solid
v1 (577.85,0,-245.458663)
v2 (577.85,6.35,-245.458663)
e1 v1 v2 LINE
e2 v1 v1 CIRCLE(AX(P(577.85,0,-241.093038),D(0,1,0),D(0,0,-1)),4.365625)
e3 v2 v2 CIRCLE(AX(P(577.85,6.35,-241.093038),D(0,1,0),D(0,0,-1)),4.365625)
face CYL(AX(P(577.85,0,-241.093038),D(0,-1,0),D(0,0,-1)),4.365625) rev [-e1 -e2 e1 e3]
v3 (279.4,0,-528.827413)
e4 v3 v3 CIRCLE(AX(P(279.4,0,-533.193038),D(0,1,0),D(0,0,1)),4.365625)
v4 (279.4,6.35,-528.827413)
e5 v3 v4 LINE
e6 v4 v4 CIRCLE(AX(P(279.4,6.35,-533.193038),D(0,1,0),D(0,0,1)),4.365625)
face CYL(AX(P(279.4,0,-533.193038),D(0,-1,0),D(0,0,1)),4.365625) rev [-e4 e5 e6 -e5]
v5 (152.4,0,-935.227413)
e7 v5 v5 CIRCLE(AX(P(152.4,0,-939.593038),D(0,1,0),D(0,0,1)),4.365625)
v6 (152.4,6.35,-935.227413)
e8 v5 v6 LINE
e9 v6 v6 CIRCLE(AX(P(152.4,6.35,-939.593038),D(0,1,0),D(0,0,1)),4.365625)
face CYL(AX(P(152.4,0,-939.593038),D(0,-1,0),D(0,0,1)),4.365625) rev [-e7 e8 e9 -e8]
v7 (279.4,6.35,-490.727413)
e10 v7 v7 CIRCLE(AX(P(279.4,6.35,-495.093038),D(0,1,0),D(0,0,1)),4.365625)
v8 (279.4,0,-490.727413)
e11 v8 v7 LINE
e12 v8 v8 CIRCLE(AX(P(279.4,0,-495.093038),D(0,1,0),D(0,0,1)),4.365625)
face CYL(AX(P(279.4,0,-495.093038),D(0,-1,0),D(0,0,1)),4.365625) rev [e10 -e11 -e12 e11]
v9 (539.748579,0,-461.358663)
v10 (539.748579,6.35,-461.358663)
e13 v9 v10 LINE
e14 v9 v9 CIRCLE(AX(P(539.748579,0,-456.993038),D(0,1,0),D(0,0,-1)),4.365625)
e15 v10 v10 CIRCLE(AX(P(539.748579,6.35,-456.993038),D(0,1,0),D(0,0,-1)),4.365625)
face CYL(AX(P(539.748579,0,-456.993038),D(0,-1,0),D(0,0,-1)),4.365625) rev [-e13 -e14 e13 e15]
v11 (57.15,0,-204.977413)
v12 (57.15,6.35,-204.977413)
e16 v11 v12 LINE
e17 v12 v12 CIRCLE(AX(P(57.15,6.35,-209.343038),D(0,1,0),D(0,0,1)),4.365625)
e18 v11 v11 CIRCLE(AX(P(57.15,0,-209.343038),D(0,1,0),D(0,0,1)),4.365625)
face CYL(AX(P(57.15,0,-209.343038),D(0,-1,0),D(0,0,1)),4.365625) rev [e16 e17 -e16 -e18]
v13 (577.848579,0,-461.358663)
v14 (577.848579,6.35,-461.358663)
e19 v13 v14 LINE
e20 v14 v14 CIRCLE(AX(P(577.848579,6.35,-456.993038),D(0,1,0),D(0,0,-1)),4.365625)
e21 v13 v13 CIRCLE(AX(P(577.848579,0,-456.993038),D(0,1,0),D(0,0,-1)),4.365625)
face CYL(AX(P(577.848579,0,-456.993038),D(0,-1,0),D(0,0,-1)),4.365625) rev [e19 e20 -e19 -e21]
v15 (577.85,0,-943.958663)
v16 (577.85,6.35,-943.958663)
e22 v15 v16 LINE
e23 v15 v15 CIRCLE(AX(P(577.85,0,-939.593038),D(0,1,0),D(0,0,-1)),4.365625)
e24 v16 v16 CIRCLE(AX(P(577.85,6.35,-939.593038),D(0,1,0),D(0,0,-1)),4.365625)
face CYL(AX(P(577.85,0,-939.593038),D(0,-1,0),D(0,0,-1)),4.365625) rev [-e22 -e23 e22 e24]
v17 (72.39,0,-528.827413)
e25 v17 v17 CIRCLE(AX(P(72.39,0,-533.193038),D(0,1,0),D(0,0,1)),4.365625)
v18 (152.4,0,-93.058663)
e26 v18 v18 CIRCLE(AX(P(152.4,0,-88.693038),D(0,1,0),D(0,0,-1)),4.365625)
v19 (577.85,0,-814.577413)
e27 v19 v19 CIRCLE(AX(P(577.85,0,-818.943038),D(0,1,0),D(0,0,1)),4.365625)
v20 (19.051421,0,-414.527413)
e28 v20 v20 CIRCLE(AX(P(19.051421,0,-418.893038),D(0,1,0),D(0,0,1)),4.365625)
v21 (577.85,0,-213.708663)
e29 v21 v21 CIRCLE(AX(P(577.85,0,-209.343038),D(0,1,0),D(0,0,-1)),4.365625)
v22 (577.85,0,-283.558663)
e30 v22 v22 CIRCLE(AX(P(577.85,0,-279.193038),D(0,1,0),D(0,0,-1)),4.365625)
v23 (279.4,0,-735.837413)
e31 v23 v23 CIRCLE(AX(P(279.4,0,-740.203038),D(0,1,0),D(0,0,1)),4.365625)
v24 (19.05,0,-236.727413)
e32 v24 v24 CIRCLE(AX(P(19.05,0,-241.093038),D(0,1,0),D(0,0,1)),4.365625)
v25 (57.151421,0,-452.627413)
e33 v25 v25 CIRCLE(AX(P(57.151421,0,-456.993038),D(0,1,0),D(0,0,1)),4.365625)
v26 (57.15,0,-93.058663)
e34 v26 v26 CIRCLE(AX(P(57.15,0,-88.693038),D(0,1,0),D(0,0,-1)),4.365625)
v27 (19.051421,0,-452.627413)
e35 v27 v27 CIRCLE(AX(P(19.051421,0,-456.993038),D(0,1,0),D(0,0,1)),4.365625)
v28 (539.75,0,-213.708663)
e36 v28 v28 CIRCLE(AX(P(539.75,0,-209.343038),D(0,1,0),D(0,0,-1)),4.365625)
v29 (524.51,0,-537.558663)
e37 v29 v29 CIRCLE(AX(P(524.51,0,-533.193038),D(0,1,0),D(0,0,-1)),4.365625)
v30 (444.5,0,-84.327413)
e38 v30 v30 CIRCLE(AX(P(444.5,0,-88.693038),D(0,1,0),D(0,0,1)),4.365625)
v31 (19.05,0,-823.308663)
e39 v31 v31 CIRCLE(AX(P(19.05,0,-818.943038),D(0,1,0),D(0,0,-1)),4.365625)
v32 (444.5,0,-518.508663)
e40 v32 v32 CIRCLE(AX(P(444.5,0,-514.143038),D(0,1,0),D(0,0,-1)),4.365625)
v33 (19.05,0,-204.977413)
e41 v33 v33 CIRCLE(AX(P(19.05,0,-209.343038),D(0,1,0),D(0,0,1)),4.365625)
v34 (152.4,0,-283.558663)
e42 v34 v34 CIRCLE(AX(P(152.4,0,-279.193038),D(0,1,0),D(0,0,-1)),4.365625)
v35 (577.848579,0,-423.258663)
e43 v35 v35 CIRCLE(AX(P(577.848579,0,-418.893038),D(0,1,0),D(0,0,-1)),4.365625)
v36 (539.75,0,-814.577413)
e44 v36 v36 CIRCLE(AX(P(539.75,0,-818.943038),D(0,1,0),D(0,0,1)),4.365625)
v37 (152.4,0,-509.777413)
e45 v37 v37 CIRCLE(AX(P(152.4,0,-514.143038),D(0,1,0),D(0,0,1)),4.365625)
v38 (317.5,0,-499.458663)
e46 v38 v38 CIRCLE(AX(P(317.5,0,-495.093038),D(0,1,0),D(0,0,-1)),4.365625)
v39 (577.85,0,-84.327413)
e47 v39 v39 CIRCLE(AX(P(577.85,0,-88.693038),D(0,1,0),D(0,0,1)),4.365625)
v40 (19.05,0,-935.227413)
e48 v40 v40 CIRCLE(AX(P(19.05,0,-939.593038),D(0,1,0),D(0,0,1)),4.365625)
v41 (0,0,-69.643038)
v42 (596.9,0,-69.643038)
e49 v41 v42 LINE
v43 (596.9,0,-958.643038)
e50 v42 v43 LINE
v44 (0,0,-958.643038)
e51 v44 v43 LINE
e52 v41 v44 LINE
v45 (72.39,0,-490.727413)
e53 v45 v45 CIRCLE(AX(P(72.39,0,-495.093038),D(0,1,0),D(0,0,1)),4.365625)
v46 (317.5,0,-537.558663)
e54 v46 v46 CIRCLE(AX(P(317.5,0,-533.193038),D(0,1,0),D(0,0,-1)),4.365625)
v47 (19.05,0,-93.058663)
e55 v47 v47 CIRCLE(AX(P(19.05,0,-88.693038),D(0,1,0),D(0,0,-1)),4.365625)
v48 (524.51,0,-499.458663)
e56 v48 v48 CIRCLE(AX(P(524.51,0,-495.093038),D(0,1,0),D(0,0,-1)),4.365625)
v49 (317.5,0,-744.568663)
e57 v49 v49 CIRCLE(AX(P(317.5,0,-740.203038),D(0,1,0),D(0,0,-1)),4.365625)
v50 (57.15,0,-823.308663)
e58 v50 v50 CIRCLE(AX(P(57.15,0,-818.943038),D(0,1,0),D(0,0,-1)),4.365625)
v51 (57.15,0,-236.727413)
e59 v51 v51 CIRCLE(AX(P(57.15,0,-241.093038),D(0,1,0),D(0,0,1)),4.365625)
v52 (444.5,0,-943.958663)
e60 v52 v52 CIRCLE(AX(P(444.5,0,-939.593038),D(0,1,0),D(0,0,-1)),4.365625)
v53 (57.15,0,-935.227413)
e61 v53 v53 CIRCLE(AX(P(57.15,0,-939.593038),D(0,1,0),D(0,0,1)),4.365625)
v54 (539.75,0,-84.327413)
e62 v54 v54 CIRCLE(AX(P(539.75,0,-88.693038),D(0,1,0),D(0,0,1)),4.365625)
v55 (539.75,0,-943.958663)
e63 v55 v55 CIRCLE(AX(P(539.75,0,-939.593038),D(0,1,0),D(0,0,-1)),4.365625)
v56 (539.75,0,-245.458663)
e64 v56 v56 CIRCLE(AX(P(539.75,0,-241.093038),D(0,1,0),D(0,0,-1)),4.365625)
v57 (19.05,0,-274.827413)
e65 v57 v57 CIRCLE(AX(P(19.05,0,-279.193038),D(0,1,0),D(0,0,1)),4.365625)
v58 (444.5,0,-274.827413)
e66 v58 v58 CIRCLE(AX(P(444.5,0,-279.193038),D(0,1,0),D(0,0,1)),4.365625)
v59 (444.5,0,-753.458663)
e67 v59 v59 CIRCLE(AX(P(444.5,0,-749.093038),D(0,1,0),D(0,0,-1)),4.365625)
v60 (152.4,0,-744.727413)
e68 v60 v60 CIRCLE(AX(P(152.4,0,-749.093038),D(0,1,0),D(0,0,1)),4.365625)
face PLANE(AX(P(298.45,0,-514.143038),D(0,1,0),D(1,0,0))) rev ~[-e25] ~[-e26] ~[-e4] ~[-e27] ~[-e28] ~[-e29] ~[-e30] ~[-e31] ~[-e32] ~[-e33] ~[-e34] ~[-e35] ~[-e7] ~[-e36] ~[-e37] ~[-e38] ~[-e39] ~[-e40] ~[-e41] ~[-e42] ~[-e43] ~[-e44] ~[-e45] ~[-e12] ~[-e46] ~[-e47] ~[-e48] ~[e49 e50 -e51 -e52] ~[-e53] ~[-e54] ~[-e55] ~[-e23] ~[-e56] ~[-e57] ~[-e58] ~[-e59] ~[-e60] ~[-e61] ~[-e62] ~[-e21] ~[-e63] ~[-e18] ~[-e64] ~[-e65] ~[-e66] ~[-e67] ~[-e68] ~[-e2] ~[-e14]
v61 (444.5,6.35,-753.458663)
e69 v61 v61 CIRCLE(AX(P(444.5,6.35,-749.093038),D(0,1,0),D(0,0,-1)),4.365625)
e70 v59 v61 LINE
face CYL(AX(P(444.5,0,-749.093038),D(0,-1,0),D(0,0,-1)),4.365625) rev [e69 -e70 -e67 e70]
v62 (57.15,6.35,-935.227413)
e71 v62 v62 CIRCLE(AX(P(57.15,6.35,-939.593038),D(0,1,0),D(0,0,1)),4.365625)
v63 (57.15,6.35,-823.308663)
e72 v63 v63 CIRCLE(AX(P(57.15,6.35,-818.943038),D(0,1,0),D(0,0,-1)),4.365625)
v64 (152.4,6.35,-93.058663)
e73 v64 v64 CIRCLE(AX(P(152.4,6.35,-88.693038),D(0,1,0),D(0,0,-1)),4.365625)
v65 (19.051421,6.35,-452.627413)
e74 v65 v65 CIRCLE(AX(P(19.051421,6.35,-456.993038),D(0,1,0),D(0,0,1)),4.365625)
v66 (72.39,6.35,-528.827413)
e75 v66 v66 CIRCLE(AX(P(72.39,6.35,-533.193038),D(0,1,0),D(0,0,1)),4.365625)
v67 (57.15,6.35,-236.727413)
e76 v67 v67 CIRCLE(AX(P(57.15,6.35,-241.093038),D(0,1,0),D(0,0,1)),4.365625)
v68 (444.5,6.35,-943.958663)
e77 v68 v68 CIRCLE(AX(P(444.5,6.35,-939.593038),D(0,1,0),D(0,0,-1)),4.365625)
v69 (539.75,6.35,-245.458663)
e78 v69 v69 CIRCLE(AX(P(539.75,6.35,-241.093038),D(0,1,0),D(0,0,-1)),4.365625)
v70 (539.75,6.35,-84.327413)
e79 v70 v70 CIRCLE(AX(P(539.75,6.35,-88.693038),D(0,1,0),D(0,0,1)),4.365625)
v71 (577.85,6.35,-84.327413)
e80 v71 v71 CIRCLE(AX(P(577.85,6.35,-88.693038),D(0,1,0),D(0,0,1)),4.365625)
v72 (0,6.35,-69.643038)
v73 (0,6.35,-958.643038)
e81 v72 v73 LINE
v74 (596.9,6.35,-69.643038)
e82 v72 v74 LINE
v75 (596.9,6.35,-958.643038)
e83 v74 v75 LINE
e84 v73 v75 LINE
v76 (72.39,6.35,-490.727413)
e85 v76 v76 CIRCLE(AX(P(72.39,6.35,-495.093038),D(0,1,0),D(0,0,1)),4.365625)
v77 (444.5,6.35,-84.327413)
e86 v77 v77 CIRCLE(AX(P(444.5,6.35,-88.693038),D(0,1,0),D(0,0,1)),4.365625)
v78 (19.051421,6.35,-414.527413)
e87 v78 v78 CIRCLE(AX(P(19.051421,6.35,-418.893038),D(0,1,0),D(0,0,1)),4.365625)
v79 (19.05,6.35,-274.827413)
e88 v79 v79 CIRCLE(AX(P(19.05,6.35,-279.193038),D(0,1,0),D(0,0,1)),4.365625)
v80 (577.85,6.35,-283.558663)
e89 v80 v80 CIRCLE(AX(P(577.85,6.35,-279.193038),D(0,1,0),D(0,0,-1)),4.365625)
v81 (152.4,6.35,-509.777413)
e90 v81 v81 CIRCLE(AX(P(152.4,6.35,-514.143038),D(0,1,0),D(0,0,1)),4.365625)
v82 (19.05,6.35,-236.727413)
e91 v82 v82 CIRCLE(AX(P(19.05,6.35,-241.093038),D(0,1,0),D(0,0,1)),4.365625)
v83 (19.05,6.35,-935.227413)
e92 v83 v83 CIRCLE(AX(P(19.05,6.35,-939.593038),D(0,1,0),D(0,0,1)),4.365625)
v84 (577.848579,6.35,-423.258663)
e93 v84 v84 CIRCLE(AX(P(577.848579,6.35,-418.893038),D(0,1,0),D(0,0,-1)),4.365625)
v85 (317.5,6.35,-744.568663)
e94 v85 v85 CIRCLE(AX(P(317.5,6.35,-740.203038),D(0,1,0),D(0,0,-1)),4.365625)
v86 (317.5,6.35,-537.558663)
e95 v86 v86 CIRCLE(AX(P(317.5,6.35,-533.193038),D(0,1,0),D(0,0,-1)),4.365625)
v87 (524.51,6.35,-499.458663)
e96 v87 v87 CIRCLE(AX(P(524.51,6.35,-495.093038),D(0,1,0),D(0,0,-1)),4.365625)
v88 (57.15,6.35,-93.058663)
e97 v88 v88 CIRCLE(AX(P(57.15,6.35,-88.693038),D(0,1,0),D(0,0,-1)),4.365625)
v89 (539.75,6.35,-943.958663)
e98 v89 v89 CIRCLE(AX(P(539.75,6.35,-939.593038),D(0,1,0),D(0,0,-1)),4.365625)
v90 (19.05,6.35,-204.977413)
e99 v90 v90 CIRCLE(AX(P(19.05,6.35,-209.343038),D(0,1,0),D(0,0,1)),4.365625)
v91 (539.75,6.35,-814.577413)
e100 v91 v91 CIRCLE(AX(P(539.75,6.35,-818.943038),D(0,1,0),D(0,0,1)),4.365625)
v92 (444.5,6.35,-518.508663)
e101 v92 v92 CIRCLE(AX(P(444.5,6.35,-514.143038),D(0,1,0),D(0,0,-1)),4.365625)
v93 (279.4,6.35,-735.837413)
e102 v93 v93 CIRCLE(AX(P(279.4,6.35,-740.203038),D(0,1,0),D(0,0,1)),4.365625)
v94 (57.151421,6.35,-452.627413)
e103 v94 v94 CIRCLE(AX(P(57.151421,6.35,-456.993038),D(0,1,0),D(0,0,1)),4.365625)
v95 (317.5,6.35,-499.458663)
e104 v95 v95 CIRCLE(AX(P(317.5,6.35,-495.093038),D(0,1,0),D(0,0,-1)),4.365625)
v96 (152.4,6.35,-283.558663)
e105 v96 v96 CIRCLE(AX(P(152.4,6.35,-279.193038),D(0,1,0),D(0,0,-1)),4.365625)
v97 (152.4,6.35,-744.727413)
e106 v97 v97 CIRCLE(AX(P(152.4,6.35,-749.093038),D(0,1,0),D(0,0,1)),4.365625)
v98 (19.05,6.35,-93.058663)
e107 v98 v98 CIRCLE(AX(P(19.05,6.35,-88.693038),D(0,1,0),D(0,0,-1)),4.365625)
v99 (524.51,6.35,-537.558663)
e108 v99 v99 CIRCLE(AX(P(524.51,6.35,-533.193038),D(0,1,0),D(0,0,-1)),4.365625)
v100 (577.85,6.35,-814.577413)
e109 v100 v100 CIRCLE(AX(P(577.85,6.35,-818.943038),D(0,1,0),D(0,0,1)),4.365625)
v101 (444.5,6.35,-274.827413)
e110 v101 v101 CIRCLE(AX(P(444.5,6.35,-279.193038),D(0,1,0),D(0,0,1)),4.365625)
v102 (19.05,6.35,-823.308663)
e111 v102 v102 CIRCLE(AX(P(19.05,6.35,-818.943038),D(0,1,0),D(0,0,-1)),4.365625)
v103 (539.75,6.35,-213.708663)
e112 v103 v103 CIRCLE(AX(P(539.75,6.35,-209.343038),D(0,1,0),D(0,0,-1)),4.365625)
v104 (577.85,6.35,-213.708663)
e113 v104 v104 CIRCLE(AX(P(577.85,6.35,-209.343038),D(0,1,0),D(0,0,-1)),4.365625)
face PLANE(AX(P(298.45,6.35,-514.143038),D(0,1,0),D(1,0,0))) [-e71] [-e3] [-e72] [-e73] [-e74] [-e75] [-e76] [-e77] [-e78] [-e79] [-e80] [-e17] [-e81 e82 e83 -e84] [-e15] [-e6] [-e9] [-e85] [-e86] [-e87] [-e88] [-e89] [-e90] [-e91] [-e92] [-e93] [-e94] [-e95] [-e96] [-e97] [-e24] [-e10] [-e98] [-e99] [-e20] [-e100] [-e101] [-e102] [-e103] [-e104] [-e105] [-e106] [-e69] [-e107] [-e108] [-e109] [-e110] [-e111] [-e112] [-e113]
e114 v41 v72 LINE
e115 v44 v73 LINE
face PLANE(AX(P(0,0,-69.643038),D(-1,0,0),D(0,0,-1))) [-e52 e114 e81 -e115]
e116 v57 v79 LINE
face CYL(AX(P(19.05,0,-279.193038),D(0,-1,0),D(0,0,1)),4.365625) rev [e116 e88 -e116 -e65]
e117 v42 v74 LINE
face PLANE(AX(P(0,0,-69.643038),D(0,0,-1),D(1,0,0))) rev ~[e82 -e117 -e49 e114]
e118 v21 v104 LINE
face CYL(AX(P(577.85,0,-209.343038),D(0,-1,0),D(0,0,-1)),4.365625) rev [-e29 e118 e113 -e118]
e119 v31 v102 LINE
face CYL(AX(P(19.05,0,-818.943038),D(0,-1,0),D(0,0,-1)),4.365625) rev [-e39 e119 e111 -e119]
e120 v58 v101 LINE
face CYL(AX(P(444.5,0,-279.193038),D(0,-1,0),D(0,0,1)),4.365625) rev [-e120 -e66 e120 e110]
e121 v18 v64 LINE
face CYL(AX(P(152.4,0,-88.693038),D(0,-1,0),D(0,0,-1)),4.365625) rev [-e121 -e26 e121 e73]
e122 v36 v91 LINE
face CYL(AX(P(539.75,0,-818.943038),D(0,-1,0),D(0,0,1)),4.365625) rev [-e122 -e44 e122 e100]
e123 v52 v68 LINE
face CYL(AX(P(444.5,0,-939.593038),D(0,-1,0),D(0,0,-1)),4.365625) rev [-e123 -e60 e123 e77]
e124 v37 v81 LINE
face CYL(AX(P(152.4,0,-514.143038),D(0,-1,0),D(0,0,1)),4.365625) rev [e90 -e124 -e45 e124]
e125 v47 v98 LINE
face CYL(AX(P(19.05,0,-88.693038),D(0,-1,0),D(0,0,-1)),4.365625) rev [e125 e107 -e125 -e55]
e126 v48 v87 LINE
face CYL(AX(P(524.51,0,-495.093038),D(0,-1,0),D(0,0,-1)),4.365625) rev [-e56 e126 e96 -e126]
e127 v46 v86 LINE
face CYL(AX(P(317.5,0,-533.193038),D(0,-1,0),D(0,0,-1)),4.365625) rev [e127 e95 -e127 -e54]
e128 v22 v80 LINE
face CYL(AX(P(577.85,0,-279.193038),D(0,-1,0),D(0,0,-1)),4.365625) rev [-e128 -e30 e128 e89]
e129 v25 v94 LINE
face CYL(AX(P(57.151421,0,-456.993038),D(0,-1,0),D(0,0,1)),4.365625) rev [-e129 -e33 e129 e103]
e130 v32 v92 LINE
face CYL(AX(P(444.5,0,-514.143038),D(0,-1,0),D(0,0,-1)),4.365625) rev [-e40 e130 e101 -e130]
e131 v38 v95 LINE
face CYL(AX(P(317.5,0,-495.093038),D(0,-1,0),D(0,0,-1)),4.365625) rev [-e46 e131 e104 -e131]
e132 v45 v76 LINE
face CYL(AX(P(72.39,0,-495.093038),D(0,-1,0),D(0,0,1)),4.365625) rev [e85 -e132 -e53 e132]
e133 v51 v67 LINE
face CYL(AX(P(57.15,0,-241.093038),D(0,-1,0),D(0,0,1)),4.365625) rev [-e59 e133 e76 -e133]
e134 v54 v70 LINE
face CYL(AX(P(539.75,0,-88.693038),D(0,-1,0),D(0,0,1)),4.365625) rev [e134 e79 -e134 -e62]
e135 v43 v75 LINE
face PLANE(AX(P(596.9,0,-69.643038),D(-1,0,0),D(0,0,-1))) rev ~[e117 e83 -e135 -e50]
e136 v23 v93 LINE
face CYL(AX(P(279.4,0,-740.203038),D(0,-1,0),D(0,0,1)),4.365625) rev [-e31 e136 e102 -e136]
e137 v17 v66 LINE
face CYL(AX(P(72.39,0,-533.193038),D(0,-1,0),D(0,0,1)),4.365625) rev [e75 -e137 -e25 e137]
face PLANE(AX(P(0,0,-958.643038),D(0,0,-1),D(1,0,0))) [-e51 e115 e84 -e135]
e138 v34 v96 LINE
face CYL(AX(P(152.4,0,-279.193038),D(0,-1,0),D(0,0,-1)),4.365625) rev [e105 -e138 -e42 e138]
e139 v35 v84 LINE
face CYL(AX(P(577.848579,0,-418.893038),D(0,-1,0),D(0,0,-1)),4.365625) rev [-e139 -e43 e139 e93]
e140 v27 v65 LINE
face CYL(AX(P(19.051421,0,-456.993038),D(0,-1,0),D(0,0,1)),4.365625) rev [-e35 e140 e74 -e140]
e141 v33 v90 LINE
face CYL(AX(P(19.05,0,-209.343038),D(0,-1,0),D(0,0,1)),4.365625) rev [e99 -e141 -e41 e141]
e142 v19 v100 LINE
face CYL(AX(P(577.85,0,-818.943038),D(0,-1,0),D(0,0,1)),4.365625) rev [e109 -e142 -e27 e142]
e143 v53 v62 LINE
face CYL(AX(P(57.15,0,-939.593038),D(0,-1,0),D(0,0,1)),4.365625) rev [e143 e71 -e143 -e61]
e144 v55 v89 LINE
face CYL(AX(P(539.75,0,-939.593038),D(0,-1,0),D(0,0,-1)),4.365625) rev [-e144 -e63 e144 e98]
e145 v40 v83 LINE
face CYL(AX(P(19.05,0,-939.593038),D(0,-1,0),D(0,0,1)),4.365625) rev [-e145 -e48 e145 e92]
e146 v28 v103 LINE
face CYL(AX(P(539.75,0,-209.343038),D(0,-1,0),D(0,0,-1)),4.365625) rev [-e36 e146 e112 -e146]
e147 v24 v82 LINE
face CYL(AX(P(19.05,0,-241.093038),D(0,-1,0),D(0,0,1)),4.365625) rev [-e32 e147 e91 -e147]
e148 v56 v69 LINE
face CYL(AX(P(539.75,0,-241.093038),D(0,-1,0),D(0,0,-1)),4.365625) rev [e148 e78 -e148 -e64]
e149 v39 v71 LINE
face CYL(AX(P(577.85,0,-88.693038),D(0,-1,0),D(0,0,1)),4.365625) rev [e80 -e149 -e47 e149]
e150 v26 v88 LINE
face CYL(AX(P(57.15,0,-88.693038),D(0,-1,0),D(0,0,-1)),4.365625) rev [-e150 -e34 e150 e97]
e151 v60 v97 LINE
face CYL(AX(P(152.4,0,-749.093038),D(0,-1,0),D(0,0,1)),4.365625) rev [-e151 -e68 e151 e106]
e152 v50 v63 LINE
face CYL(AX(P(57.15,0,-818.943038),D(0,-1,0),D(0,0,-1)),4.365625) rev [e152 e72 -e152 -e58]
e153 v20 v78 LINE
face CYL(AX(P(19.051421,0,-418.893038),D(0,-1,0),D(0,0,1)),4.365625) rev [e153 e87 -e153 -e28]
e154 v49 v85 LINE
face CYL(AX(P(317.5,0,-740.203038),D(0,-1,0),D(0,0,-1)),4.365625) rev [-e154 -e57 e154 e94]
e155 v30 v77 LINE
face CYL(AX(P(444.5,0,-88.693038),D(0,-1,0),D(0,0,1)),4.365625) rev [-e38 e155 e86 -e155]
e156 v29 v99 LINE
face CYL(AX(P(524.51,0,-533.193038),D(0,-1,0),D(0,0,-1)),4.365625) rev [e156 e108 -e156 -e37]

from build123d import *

# Parameters (mm, degrees)
SKETCH1_W           = 596.9
SKETCH1_H           = 889
SKETCH1_R           = 4.365625
BOSS_EXTRUDE1_DEPTH = 6.35


with BuildPart() as part:
    # Sketch1 → Boss-Extrude1 (new body)
    with BuildSketch(Plane(origin=(0, 0, 0), x_dir=(1, 0, 0), z_dir=(0, 1, 0))):
        with Locations((298.45, 514.143037509)):
            Rectangle(SKETCH1_W, SKETCH1_H)
        with Locations(Location((19.05, 939.593037509, 0), (0, 0, 270))):
            Circle(SKETCH1_R, mode=Mode.SUBTRACT)
        with Locations(Location((57.15, 939.593037509, 0), (0, 0, 270))):
            Circle(SKETCH1_R, mode=Mode.SUBTRACT)
        with Locations(Location((577.85, 939.593037509, 0), (0, 0, 90))):
            Circle(SKETCH1_R, mode=Mode.SUBTRACT)
        with Locations(Location((539.75, 939.593037509, 0), (0, 0, 90))):
            Circle(SKETCH1_R, mode=Mode.SUBTRACT)
        with Locations(Location((577.85, 88.693037509, 0), (0, 0, 270))):
            Circle(SKETCH1_R, mode=Mode.SUBTRACT)
        with Locations(Location((539.75, 88.693037509, 0), (0, 0, 270))):
            Circle(SKETCH1_R, mode=Mode.SUBTRACT)
        with Locations(Location((19.05, 88.693037509, 0), (0, 0, 90))):
            Circle(SKETCH1_R, mode=Mode.SUBTRACT)
        with Locations(Location((57.15, 88.693037509, 0), (0, 0, 90))):
            Circle(SKETCH1_R, mode=Mode.SUBTRACT)
        with Locations(Location((57.15, 209.343037509, 0), (0, 0, 270))):
            Circle(SKETCH1_R, mode=Mode.SUBTRACT)
        with Locations(Location((19.05, 209.343037509, 0), (0, 0, 270))):
            Circle(SKETCH1_R, mode=Mode.SUBTRACT)
        with Locations(Location((19.05, 818.943037509, 0), (0, 0, 90))):
            Circle(SKETCH1_R, mode=Mode.SUBTRACT)
        with Locations(Location((57.15, 818.943037509, 0), (0, 0, 90))):
            Circle(SKETCH1_R, mode=Mode.SUBTRACT)
        with Locations(Location((577.85, 209.343037509, 0), (0, 0, 90))):
            Circle(SKETCH1_R, mode=Mode.SUBTRACT)
        with Locations(Location((539.75, 209.343037509, 0), (0, 0, 90))):
            Circle(SKETCH1_R, mode=Mode.SUBTRACT)
        with Locations(Location((577.85, 818.943037509, 0), (0, 0, 270))):
            Circle(SKETCH1_R, mode=Mode.SUBTRACT)
        with Locations(Location((539.75, 818.943037509, 0), (0, 0, 270))):
            Circle(SKETCH1_R, mode=Mode.SUBTRACT)
        with Locations(Location((72.39, 533.193037509, 0), (0, 0, 270))):
            Circle(SKETCH1_R, mode=Mode.SUBTRACT)
        with Locations(Location((72.39, 495.093037509, 0), (0, 0, 270))):
            Circle(SKETCH1_R, mode=Mode.SUBTRACT)
        with Locations(Location((19.051421295, 456.993037509, 0), (0, 0, 270))):
            Circle(SKETCH1_R, mode=Mode.SUBTRACT)
        with Locations(Location((19.05, 241.093037509, 0), (0, 0, 270))):
            Circle(SKETCH1_R, mode=Mode.SUBTRACT)
        with Locations(Location((279.4, 495.093037509, 0), (0, 0, 270))):
            Circle(SKETCH1_R, mode=Mode.SUBTRACT)
        with Locations(Location((279.4, 533.193037509, 0), (0, 0, 270))):
            Circle(SKETCH1_R, mode=Mode.SUBTRACT)
        with Locations(Location((279.399999999, 740.203037509, 0), (0, 0, 270))):
            Circle(SKETCH1_R, mode=Mode.SUBTRACT)
        with Locations(Location((152.4, 939.593037509, 0), (0, 0, 270))):
            Circle(SKETCH1_R, mode=Mode.SUBTRACT)
        with Locations(Location((152.4, 514.143037509, 0), (0, 0, 270))):
            Circle(SKETCH1_R, mode=Mode.SUBTRACT)
        with Locations(Location((152.4, 749.093037509, 0), (0, 0, 270))):
            Circle(SKETCH1_R, mode=Mode.SUBTRACT)
        with Locations(Location((152.4, 279.193037509, 0), (0, 0, 90))):
            Circle(SKETCH1_R, mode=Mode.SUBTRACT)
        with Locations(Location((152.4, 88.693037509, 0), (0, 0, 90))):
            Circle(SKETCH1_R, mode=Mode.SUBTRACT)
        with Locations(Location((444.5, 88.693037509, 0), (0, 0, 270))):
            Circle(SKETCH1_R, mode=Mode.SUBTRACT)
        with Locations(Location((444.5, 279.193037509, 0), (0, 0, 270))):
            Circle(SKETCH1_R, mode=Mode.SUBTRACT)
        with Locations(Location((317.5, 533.193037509, 0), (0, 0, 90))):
            Circle(SKETCH1_R, mode=Mode.SUBTRACT)
        with Locations(Location((317.5, 495.093037509, 0), (0, 0, 90))):
            Circle(SKETCH1_R, mode=Mode.SUBTRACT)
        with Locations(Location((577.85, 241.093037509, 0), (0, 0, 90))):
            Circle(SKETCH1_R, mode=Mode.SUBTRACT)
        with Locations(Location((577.848578705, 456.993037509, 0), (0, 0, 90))):
            Circle(SKETCH1_R, mode=Mode.SUBTRACT)
        with Locations(Location((524.51, 495.093037509, 0), (0, 0, 90))):
            Circle(SKETCH1_R, mode=Mode.SUBTRACT)
        with Locations(Location((524.51, 533.193037509, 0), (0, 0, 90))):
            Circle(SKETCH1_R, mode=Mode.SUBTRACT)
        with Locations(Location((444.5, 514.143037509, 0), (0, 0, 90))):
            Circle(SKETCH1_R, mode=Mode.SUBTRACT)
        with Locations(Location((317.500000001, 740.203037509, 0), (0, 0, 90))):
            Circle(SKETCH1_R, mode=Mode.SUBTRACT)
        with Locations(Location((444.5, 749.093037509, 0), (0, 0, 90))):
            Circle(SKETCH1_R, mode=Mode.SUBTRACT)
        with Locations(Location((444.5, 939.593037509, 0), (0, 0, 90))):
            Circle(SKETCH1_R, mode=Mode.SUBTRACT)
        with Locations(Location((19.05, 279.193037509, 0), (0, 0, 270))):
            Circle(SKETCH1_R, mode=Mode.SUBTRACT)
        with Locations(Location((57.15, 241.093037509, 0), (0, 0, 270))):
            Circle(SKETCH1_R, mode=Mode.SUBTRACT)
        with Locations(Location((577.85, 279.193037509, 0), (0, 0, 90))):
            Circle(SKETCH1_R, mode=Mode.SUBTRACT)
        with Locations(Location((539.75, 241.093037509, 0), (0, 0, 90))):
            Circle(SKETCH1_R, mode=Mode.SUBTRACT)
        with Locations(Location((19.051421295, 418.893037509, 0), (0, 0, 270))):
            Circle(SKETCH1_R, mode=Mode.SUBTRACT)
        with Locations(Location((57.151421295, 456.993037509, 0), (0, 0, 270))):
            Circle(SKETCH1_R, mode=Mode.SUBTRACT)
        with Locations(Location((577.848578705, 418.893037509, 0), (0, 0, 90))):
            Circle(SKETCH1_R, mode=Mode.SUBTRACT)
        with Locations(Location((539.748578705, 456.993037509, 0), (0, 0, 90))):
            Circle(SKETCH1_R, mode=Mode.SUBTRACT)
    extrude(amount=BOSS_EXTRUDE1_DEPTH)


solid = part.part
